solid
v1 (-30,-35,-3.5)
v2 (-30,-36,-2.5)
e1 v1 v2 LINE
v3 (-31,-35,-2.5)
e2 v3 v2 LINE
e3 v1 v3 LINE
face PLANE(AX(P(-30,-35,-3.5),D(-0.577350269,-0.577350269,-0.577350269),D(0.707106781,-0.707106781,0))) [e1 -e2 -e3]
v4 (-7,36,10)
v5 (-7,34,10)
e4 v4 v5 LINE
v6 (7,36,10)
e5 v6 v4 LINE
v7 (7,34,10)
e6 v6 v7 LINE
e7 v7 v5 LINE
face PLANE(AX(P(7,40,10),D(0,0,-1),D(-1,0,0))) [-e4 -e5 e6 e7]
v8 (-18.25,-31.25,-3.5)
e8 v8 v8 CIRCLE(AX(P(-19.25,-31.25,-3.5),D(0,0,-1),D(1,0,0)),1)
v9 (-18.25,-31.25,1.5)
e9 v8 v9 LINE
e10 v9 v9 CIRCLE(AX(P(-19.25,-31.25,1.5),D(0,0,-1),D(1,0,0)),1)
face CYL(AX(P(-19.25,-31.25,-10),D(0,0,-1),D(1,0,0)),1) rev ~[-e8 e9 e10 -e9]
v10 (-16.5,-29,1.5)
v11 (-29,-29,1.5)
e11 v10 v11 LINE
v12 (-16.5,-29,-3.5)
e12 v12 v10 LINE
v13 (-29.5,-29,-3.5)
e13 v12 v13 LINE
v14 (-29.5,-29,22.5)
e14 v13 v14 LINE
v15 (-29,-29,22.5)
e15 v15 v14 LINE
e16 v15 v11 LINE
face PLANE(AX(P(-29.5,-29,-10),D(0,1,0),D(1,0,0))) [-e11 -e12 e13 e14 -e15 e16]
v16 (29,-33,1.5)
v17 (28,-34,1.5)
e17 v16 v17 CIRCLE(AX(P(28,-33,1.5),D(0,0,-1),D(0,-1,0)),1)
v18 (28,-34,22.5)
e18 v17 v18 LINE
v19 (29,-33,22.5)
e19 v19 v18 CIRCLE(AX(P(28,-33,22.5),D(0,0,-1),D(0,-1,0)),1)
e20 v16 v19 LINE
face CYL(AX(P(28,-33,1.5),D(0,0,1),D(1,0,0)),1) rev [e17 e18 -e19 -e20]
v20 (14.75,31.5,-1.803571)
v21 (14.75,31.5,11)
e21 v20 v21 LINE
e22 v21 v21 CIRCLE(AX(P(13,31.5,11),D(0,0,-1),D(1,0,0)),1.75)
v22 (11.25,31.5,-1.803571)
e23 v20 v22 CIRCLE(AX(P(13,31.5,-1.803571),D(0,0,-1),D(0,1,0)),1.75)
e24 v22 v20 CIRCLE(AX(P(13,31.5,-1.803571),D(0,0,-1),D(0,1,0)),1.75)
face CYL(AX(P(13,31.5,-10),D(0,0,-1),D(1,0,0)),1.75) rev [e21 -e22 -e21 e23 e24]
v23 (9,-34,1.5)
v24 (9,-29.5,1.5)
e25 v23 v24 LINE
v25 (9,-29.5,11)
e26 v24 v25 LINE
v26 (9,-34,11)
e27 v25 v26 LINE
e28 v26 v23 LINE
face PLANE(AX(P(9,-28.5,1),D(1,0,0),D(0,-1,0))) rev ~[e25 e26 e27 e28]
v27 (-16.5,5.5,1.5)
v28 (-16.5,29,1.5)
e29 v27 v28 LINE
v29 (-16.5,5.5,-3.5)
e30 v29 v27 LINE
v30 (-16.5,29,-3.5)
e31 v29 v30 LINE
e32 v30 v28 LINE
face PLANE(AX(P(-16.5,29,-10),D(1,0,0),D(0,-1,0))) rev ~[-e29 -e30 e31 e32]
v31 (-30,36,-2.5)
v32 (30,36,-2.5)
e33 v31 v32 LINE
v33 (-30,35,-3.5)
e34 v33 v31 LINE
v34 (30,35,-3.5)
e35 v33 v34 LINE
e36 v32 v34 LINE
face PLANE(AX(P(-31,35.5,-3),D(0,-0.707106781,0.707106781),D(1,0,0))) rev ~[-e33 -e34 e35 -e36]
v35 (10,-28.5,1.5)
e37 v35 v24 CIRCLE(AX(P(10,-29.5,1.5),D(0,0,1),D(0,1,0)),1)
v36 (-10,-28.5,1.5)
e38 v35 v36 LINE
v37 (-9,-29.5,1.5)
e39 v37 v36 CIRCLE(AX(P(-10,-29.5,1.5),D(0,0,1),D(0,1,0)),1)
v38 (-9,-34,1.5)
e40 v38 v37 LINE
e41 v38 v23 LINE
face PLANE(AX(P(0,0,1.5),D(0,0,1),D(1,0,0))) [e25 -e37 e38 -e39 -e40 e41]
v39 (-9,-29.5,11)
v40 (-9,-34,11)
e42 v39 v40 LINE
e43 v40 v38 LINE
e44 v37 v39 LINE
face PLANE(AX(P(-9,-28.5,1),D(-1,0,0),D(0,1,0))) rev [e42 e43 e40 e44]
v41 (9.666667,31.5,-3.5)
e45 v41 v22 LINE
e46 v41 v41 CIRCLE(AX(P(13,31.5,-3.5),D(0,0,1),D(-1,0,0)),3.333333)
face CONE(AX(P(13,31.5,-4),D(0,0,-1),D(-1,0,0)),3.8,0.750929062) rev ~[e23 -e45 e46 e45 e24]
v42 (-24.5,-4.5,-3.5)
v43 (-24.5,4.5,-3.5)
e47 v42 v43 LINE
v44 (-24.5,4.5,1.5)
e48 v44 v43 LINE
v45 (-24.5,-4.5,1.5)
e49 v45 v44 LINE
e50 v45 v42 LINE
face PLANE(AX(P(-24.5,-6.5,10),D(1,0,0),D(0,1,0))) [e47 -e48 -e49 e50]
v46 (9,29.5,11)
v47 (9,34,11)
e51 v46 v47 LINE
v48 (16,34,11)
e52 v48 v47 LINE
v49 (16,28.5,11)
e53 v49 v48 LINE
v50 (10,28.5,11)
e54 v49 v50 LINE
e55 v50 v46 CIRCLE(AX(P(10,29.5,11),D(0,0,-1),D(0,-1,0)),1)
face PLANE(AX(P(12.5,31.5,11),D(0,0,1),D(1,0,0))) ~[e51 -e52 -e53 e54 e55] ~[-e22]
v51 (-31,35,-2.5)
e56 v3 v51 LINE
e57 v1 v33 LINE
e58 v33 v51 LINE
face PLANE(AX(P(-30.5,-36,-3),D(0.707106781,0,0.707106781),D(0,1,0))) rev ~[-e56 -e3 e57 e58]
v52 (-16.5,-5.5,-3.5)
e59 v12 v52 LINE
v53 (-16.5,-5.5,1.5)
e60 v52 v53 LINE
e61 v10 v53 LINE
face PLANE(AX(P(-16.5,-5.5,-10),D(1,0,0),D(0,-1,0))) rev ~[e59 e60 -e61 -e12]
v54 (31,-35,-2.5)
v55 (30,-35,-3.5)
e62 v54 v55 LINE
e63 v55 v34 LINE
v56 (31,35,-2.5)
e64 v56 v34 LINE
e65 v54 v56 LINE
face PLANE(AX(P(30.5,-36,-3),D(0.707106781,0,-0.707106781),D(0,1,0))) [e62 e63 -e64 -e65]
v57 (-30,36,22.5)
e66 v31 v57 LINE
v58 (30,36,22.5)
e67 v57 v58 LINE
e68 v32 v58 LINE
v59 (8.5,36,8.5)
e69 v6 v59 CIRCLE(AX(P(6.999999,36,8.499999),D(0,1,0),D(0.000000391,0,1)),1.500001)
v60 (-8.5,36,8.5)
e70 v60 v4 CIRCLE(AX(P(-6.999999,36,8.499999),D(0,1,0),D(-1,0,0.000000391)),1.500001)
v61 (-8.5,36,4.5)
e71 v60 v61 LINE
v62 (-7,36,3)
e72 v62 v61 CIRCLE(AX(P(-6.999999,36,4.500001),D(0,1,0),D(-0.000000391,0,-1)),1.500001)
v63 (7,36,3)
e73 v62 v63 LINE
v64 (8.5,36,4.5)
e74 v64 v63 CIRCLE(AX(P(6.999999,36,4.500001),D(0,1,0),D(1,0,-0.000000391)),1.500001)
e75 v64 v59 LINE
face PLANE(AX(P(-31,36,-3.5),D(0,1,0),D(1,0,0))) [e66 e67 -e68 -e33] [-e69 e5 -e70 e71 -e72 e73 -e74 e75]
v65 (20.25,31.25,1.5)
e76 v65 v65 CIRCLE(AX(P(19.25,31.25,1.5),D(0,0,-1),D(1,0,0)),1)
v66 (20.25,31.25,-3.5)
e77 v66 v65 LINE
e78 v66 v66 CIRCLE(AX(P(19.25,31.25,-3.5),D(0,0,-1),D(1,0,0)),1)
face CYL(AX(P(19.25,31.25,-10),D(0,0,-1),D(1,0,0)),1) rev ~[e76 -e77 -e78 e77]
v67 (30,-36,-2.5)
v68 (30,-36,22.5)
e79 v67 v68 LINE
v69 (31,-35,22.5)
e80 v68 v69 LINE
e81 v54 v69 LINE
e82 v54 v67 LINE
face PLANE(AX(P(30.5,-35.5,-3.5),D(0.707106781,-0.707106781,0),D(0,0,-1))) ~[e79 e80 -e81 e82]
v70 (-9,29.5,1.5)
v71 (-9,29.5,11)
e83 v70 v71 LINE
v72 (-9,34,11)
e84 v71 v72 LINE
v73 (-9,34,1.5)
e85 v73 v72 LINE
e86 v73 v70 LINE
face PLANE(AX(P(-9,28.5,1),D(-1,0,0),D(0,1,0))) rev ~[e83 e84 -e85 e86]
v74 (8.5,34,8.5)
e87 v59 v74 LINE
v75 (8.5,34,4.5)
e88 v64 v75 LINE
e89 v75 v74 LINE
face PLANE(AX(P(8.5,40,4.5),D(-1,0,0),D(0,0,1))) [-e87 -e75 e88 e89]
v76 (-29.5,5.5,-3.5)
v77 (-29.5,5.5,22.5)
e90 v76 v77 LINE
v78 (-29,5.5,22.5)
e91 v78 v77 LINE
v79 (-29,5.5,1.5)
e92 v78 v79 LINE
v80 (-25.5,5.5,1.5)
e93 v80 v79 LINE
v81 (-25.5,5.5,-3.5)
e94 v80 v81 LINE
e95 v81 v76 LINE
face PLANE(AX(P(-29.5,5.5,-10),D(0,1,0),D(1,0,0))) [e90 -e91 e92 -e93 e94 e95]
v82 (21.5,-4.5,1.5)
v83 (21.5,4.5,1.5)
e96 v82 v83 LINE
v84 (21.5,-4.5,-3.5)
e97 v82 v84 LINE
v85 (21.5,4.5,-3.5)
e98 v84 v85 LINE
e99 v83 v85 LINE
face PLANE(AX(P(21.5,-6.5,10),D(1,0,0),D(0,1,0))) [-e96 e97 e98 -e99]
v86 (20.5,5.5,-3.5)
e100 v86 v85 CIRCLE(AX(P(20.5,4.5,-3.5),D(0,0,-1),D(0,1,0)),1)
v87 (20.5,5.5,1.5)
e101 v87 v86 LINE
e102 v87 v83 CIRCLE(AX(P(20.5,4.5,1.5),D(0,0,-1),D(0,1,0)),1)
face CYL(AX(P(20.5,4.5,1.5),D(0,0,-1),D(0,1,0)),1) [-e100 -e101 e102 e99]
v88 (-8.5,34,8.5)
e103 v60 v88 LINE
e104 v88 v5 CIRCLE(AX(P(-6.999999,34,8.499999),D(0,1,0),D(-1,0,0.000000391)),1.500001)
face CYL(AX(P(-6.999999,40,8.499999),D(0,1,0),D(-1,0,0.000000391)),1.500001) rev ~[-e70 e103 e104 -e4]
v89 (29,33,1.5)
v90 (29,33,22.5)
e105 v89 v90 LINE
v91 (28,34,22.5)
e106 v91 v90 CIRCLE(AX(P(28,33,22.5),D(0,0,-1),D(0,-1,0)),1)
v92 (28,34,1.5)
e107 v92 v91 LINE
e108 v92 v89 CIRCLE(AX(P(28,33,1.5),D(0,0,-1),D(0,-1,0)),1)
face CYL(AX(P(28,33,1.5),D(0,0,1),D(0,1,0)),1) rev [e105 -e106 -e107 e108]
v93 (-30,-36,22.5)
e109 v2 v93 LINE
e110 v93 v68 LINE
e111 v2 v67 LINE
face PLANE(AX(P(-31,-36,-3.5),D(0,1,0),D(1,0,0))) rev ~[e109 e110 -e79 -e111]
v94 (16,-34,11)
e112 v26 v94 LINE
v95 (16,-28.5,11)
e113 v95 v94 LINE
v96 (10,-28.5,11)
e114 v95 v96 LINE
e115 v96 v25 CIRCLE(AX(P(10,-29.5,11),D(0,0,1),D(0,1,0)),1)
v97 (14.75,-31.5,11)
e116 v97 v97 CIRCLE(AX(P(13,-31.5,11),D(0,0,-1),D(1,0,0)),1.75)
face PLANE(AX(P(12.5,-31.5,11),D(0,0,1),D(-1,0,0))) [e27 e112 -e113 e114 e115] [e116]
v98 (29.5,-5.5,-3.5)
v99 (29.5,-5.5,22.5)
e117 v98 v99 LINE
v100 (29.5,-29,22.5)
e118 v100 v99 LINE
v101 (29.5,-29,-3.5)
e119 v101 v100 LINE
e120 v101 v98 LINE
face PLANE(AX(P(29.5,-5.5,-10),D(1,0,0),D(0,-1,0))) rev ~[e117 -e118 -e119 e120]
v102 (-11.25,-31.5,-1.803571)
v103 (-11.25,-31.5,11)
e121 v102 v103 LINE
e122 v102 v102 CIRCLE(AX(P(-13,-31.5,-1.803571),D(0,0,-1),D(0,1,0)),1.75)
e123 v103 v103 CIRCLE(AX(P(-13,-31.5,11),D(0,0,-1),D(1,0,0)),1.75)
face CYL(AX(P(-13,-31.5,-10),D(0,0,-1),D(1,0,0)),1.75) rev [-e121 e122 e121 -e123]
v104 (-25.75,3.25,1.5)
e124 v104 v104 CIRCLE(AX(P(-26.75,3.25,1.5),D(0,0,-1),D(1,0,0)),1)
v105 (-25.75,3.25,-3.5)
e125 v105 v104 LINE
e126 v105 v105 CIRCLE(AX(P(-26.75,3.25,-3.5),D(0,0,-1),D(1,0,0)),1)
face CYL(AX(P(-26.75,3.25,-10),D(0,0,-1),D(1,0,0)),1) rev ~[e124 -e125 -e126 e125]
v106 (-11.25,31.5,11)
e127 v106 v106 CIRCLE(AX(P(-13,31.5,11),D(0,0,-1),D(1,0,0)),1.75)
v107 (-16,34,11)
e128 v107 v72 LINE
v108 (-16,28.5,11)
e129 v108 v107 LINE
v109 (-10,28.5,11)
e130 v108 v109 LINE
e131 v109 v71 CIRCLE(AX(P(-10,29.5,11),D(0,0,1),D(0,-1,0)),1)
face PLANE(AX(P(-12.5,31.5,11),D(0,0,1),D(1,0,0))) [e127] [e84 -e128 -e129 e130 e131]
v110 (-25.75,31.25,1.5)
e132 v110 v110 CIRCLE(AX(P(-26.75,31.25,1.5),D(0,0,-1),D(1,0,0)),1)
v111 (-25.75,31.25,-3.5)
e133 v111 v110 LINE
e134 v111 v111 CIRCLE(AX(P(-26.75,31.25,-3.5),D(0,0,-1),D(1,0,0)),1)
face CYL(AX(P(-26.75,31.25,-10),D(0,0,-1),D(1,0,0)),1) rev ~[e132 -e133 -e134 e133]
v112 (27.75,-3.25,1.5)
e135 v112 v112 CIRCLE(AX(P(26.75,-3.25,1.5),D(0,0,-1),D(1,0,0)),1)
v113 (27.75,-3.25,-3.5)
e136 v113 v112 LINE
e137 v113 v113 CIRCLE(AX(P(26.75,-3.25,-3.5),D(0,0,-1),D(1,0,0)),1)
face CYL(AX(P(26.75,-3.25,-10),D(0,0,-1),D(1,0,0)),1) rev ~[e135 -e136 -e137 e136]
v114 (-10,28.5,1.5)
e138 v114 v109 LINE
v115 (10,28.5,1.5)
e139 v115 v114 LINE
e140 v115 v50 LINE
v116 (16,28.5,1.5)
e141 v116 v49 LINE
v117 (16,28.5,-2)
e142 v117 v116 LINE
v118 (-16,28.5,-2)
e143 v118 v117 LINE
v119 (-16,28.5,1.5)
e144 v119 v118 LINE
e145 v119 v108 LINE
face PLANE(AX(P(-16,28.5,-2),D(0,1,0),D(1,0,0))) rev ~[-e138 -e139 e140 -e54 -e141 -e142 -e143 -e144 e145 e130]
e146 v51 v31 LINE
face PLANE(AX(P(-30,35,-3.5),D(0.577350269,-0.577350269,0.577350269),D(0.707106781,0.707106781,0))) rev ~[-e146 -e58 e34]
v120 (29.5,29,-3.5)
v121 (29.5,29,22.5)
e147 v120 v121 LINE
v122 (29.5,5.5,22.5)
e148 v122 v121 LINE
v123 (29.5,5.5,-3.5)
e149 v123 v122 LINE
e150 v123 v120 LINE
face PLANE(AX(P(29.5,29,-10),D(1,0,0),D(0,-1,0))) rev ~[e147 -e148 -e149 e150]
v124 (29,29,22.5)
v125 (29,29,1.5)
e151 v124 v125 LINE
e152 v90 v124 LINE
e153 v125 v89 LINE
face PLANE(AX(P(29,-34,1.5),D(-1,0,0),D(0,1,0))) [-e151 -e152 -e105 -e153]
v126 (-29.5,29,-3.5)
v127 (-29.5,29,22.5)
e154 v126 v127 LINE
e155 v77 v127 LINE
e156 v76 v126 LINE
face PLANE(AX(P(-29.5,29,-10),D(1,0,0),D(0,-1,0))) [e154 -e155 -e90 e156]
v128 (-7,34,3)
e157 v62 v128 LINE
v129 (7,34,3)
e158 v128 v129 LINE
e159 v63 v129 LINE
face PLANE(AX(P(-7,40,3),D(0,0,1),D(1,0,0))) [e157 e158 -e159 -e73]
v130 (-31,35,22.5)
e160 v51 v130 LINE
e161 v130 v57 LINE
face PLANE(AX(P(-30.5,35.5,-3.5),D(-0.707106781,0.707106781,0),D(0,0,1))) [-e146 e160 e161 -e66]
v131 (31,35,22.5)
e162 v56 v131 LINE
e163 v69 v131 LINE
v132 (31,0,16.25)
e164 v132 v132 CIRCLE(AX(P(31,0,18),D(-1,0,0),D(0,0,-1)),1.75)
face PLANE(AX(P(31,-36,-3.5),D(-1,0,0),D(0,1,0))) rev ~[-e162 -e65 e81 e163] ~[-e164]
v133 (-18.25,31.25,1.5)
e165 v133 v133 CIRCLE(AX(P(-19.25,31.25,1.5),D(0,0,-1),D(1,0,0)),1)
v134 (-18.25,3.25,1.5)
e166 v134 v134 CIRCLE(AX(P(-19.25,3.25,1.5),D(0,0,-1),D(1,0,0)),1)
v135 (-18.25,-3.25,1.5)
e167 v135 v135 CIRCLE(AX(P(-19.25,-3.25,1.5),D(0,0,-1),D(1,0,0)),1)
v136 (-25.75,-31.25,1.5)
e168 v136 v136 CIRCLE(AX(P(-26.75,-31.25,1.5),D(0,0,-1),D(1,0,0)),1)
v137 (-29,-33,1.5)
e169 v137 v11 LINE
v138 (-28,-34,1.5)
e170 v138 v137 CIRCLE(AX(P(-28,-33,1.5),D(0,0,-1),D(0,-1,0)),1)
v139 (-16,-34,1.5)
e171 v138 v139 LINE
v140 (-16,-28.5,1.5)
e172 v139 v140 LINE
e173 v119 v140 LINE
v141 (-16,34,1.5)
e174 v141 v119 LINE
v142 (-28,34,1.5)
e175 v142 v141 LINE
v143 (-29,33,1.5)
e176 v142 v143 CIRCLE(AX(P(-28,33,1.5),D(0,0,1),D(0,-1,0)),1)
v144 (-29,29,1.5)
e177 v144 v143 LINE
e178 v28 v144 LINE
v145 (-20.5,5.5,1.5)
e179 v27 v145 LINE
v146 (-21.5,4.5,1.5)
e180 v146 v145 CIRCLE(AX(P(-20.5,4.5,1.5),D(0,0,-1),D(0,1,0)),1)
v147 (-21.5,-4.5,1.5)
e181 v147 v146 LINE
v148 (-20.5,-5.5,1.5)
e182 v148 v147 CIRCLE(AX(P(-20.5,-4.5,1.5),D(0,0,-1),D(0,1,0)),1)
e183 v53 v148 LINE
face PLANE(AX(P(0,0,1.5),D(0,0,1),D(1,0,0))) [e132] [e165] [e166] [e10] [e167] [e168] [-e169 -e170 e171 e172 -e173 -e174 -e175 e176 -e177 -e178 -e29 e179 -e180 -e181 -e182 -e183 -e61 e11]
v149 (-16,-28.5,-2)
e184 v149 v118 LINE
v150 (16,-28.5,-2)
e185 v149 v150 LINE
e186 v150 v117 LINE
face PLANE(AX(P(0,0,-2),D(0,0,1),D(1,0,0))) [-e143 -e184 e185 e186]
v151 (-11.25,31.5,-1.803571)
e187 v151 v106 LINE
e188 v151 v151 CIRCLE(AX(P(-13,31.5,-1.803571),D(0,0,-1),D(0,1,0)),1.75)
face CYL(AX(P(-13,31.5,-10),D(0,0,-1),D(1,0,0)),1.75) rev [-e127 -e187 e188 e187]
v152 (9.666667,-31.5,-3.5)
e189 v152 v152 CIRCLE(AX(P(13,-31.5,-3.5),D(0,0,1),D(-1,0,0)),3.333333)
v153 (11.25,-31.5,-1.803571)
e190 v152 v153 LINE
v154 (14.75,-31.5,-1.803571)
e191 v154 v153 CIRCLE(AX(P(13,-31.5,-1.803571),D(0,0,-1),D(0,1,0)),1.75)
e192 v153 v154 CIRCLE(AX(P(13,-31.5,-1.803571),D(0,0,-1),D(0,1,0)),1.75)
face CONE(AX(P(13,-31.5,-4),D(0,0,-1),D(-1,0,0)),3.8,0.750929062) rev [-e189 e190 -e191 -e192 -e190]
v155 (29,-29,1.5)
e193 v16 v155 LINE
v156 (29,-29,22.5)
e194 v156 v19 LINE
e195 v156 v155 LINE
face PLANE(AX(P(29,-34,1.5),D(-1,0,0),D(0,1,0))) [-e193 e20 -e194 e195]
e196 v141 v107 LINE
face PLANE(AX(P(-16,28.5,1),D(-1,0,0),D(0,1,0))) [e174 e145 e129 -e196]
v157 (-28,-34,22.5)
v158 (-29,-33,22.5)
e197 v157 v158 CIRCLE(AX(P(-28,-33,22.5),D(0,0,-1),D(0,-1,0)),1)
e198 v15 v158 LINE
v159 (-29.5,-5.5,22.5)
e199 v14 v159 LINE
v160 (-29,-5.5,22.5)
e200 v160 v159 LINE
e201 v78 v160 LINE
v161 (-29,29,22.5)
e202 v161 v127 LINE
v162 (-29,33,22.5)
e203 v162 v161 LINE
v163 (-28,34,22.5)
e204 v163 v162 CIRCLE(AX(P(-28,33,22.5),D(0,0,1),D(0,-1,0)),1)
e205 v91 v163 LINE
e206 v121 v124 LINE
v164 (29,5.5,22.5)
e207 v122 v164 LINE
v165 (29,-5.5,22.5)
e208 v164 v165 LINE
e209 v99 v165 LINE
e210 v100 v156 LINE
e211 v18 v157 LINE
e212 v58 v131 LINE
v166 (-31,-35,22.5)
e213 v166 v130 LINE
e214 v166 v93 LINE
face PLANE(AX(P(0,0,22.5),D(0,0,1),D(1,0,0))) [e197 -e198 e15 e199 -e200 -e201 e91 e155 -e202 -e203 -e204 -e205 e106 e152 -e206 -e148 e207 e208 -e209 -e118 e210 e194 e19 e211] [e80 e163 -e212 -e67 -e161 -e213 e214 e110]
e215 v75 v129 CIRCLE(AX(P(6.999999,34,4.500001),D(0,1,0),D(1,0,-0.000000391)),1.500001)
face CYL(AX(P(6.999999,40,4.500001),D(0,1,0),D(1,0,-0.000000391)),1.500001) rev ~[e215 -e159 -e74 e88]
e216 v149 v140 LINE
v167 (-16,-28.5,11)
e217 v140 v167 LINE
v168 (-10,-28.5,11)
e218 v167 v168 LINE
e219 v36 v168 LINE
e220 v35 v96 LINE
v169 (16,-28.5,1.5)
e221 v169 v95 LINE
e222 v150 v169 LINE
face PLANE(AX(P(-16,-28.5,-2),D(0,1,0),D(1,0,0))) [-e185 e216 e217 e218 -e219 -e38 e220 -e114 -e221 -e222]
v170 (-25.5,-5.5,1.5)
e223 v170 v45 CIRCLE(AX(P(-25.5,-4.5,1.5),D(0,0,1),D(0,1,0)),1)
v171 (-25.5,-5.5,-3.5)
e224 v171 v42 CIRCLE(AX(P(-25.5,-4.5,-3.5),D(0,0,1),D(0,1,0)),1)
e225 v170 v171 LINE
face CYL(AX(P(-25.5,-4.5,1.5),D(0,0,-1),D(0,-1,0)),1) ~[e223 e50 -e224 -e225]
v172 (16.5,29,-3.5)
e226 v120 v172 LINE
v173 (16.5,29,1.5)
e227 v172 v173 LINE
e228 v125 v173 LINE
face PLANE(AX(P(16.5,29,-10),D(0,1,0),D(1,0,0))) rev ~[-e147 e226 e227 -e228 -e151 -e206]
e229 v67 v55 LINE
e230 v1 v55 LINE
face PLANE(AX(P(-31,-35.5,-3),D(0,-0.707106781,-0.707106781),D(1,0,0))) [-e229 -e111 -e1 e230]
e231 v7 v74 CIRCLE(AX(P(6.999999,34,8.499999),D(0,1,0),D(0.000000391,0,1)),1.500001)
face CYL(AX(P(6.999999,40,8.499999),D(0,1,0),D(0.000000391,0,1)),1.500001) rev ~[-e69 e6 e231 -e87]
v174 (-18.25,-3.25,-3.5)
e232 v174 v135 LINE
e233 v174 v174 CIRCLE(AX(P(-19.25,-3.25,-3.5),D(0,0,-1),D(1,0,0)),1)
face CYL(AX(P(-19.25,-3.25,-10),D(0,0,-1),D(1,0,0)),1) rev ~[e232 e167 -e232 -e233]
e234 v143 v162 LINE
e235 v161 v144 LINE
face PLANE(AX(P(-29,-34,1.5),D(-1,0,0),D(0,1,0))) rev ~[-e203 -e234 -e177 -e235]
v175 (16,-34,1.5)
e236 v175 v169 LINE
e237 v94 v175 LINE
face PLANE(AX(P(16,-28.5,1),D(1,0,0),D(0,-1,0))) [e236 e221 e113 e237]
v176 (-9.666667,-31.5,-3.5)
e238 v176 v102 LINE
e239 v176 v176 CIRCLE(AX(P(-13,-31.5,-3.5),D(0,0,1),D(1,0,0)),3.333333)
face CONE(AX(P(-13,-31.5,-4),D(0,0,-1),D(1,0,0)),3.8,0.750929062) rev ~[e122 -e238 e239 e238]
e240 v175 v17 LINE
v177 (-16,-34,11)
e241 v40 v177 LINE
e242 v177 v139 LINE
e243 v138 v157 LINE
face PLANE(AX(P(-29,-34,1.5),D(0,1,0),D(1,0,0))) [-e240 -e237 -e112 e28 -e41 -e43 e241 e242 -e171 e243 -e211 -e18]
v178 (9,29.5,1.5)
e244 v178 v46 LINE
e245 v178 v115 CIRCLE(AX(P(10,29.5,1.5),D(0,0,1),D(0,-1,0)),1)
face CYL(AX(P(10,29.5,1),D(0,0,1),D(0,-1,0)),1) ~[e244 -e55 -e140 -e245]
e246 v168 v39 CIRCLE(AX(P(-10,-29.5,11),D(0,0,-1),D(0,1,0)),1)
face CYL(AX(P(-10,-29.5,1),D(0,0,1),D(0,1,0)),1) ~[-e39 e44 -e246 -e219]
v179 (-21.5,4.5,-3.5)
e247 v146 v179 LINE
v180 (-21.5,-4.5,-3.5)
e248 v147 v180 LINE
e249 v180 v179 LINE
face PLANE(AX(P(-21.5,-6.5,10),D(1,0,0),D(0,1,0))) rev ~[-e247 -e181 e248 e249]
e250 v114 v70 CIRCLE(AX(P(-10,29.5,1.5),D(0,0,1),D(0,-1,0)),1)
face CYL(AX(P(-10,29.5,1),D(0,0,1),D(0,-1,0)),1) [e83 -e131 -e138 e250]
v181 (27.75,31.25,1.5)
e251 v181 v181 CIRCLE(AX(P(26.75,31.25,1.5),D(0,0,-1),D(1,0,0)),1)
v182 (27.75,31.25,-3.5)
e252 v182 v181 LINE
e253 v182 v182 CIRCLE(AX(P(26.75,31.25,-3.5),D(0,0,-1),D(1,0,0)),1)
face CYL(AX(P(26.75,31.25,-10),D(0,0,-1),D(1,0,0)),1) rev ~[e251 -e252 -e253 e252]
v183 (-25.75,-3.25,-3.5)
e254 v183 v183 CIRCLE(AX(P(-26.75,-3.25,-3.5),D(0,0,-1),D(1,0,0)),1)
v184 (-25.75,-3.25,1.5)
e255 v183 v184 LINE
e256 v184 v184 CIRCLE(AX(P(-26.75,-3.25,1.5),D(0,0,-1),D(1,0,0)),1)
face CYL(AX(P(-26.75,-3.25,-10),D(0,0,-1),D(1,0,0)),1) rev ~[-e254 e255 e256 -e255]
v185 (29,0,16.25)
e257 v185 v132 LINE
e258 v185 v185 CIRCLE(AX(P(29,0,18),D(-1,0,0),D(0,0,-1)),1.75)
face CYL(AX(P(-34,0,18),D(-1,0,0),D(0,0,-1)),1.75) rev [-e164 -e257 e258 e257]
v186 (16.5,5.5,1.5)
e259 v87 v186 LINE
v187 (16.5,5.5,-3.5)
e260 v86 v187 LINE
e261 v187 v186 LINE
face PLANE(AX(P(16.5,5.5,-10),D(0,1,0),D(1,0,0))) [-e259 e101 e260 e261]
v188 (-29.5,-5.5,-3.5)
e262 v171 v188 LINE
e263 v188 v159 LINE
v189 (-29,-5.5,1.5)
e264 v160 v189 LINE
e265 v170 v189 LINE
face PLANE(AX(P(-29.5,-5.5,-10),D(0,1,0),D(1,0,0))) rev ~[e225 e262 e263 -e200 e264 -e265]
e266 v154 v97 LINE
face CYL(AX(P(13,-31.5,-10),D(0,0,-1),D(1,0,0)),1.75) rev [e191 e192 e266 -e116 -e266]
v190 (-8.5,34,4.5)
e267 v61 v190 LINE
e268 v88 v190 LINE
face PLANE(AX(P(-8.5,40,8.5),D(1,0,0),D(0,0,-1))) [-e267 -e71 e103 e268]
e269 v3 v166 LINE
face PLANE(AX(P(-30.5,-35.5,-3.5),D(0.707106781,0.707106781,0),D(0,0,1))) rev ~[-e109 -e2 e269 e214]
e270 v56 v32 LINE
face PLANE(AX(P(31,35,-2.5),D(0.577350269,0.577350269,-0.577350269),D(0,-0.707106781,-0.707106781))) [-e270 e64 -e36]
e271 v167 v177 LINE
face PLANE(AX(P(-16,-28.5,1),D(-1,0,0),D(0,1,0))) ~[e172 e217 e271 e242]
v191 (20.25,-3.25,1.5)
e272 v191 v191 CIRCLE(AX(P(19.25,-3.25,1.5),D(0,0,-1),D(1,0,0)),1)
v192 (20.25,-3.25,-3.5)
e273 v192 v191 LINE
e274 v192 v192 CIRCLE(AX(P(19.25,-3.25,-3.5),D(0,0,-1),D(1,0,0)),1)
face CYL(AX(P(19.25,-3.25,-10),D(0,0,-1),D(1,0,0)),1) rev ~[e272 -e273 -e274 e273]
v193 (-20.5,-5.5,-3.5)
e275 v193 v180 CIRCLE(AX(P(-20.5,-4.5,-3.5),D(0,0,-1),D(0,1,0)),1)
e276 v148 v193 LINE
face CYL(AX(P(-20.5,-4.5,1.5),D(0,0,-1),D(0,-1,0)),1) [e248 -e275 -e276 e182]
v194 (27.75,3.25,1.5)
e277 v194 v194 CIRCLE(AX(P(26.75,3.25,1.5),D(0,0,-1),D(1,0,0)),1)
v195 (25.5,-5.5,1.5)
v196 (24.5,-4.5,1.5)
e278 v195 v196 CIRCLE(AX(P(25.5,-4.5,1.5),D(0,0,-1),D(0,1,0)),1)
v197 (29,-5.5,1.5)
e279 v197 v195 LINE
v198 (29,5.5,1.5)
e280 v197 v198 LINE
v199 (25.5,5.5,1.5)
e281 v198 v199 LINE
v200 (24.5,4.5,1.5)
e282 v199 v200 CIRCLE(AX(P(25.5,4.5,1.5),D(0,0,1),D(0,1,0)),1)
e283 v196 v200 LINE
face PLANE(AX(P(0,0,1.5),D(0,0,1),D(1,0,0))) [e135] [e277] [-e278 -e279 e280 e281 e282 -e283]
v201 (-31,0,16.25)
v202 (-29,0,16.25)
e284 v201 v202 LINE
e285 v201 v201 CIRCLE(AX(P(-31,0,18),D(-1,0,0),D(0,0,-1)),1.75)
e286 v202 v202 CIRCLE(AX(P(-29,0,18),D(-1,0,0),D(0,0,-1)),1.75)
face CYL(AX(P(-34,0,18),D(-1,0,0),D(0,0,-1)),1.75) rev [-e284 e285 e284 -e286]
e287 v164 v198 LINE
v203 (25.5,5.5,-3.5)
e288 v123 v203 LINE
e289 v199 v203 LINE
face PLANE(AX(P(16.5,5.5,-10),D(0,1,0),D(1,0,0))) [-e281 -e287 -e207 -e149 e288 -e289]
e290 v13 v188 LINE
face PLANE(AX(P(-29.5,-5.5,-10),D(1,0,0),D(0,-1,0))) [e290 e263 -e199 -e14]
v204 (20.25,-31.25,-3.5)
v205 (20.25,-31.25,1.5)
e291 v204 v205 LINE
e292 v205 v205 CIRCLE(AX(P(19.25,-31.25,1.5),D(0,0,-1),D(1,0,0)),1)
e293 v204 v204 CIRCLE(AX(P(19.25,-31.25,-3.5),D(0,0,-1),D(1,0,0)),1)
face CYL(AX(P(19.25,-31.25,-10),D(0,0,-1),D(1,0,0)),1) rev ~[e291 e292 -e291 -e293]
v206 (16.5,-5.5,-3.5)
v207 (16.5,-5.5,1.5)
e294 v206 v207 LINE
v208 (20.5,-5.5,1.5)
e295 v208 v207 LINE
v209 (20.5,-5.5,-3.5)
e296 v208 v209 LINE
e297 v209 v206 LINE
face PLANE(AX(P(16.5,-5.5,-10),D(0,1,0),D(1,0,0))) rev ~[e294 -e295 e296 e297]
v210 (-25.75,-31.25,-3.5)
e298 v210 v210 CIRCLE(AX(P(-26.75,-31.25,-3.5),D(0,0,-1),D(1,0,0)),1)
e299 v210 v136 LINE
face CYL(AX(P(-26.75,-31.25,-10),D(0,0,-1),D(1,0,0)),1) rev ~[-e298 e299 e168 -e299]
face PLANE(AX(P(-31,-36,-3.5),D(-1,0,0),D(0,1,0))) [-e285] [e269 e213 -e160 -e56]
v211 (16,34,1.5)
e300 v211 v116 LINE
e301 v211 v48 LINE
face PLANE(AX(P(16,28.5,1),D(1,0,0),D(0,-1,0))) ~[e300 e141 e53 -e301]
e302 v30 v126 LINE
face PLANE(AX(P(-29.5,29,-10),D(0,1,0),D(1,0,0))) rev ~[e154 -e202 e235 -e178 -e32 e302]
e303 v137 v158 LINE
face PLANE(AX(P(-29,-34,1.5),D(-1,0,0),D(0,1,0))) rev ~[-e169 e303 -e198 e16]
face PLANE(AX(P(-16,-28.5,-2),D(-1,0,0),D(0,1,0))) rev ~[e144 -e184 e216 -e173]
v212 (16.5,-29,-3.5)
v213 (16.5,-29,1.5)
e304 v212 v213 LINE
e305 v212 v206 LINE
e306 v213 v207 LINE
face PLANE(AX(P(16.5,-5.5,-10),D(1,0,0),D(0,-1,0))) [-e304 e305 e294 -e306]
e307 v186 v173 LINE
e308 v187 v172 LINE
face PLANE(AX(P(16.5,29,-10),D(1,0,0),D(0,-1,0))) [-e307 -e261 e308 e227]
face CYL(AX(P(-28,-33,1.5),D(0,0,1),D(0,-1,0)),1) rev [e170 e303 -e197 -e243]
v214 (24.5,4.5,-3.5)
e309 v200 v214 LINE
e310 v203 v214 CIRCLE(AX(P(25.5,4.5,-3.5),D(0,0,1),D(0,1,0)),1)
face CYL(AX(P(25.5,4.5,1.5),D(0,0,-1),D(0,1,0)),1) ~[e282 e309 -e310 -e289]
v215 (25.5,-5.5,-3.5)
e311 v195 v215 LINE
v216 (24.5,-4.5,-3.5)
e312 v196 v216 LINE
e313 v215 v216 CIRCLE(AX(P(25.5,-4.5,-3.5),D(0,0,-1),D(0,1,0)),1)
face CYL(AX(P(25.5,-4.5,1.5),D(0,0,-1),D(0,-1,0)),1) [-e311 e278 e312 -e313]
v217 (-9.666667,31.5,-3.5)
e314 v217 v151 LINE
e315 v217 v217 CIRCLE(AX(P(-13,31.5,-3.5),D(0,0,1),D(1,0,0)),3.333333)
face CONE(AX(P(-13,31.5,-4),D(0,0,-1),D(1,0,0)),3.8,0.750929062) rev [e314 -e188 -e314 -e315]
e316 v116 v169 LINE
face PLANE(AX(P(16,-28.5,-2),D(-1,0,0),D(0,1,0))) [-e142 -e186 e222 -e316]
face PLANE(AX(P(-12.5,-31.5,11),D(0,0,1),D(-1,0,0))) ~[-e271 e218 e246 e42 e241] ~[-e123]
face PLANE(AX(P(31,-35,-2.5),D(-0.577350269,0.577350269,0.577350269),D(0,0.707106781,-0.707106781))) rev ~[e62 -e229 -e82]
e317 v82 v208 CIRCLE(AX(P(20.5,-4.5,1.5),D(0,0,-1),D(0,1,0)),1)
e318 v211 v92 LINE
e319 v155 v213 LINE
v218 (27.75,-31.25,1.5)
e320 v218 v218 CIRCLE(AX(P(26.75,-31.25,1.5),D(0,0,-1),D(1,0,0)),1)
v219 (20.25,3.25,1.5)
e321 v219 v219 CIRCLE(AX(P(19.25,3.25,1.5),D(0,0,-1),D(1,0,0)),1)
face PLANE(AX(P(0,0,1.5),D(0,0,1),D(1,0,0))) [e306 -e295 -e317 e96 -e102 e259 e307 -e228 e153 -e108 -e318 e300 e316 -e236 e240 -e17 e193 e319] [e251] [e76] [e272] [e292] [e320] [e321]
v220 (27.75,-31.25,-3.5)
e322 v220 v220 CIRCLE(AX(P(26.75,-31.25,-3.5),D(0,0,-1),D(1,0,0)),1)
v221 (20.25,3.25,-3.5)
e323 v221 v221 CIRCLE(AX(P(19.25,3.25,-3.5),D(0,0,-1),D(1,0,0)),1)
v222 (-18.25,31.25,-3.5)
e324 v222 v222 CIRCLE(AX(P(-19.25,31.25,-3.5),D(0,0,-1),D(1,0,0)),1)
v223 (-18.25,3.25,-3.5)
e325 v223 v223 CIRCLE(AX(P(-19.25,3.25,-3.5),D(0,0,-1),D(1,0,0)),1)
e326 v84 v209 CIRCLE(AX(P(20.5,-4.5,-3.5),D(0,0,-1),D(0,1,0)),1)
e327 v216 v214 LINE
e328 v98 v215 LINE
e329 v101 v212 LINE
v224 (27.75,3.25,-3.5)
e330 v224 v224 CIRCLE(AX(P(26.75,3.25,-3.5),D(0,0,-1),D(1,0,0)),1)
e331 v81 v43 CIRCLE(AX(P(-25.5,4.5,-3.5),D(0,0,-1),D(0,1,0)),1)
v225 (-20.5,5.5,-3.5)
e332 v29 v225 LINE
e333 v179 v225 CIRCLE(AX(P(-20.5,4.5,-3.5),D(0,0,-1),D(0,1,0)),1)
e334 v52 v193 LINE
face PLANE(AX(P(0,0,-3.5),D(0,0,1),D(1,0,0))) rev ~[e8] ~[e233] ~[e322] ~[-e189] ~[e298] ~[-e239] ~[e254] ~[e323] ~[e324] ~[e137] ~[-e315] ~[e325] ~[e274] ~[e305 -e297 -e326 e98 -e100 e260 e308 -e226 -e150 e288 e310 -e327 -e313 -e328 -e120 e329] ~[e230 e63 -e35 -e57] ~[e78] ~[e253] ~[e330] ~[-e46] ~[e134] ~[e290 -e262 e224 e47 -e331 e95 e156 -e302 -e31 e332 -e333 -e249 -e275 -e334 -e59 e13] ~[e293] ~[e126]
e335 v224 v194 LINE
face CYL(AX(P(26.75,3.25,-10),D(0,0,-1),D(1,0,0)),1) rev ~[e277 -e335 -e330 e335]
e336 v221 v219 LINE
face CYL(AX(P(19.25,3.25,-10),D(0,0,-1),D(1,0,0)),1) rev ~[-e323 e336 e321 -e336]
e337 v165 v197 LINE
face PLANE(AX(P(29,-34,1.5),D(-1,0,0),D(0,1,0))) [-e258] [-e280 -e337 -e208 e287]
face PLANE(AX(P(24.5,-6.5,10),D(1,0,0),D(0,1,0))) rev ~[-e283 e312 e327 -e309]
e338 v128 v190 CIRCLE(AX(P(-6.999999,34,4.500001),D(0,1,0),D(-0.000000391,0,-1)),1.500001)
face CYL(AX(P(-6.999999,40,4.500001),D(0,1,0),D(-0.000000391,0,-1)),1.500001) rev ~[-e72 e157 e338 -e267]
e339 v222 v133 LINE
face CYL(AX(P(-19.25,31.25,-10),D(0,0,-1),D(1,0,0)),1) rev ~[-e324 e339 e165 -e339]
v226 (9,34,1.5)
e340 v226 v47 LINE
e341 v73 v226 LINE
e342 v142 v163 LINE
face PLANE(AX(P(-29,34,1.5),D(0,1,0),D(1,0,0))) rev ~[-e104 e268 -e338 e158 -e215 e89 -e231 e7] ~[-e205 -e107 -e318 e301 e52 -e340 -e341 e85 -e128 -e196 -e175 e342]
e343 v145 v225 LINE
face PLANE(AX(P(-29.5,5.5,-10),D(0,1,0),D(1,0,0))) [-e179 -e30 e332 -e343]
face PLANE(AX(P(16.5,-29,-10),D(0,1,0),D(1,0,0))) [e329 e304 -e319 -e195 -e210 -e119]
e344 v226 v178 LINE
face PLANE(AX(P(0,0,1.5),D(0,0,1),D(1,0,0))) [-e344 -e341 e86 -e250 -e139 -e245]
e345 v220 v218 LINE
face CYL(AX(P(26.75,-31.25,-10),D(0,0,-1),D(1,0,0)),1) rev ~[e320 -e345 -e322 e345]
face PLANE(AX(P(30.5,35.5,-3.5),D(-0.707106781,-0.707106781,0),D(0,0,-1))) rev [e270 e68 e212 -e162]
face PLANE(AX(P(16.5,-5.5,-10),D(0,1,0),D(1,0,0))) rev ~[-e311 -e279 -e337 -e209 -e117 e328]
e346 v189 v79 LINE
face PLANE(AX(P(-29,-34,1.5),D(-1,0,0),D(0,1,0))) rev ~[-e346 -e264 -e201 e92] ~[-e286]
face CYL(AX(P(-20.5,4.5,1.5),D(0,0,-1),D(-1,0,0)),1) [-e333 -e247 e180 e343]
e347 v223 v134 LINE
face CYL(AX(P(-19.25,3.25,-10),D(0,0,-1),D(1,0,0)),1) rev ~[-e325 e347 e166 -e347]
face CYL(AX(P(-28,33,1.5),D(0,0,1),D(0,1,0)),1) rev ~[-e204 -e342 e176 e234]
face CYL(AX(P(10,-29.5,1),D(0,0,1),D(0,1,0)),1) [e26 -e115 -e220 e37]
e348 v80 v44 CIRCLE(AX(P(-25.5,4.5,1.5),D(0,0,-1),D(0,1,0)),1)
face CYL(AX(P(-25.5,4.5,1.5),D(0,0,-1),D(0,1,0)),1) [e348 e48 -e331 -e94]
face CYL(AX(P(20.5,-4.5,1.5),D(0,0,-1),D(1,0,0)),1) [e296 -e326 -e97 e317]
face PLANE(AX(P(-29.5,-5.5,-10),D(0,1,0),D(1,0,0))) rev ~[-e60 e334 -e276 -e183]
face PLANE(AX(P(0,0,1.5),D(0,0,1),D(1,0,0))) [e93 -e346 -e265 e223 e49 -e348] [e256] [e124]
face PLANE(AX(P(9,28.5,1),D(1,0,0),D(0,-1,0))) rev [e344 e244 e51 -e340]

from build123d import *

# Parameters (mm, degrees)
CYLINDER018_R           = 1.75
CYLINDER018_DEPTH       = 68
CYLINDER018_PITCH_ANGLE = 90
SKETCH020_W             = 3
SKETCH020_H             = 13
PAD022_DEPTH            = 15
PAD020_DEPTH            = 6.1
CYLINDER002_R           = 1.75
CYLINDER002_DEPTH       = 30
CYLINDER003_R           = 1.75
CYLINDER003_DEPTH       = 30
CYLINDER001_R           = 1.75
CYLINDER001_DEPTH       = 30
CYLINDER_R              = 1.75
CYLINDER_DEPTH          = 30
BOX011_W                = 7
BOX011_H                = 6
BOX011_DEPTH            = 10
FILLET006_R             = 1
BOX008_W                = 32
BOX008_H                = 57
BOX008_DEPTH            = 27
SKETCH_R                = 1
SKETCH_W                = 13
SKETCH_H                = 23.5
PAD_DEPTH               = 40
BOX007_W                = 58
BOX007_H                = 68
BOX007_DEPTH            = 27
BOX001_W                = 62
BOX001_H                = 72
BOX001_DEPTH            = 26
FILLET007_R             = 1
CHAMFER_SIZE            = 1
FILLET008_R             = 1


with BuildPart() as cilindro:
    # Cylinder018 → Cylinder018 (new body)
    with BuildSketch(Plane.XY):
        Circle(CYLINDER018_R)
    extrude(amount=CYLINDER018_DEPTH)


with BuildPart() as cilindro_1:
    # Cylinder018 pitch: moved
    add(cilindro.part.rotate(Axis((0, 0, 0), (0, 1, 0)), CYLINDER018_PITCH_ANGLE))


with BuildPart() as cilindro_2:
    # Cylinder018 placement: moved
    add(cilindro_1.part.moved(Location((-34, 0, 18))))


with BuildPart() as cono:
    # Cone → Cone (revolve)
    with BuildSketch(Plane(origin=(-13, -31.5, -4), x_dir=(1, 0, 0), z_dir=(0, -1, 0))):
        Polygon((0, 0), (3.8, 0), (1, 3), (0, 3), align=None)
    revolve(axis=Axis((-13, -31.5, -4), (0, 0, 1)))


with BuildPart() as part_mirroring029:
    # Part__Mirroring029: instance of Cono
    add(cono.part.mirror(Plane(origin=(0, 0, 0), x_dir=(0, -1, 0), z_dir=(1, 0, 0))))


with BuildPart() as part_mirroring031:
    # Part__Mirroring031: instance of Part__Mirroring029
    add(part_mirroring029.part.mirror(Plane(origin=(0, 0, 0), x_dir=(1, 0, 0), z_dir=(0, 1, 0))))


with BuildPart() as fusion015:
    # Part__Mirroring030: instance of Cono
    add(cono.part.mirror(Plane(origin=(0, 0, 0), x_dir=(1, 0, 0), z_dir=(0, 1, 0))))

    # Fusion015: union Part__Mirroring031, Cono, Part__Mirroring029
    add(part_mirroring031.part)
    add(cono.part)
    add(part_mirroring029.part)


with BuildPart() as pad022:
    # Sketch020 → Pad022 (new body)
    with BuildSketch(Plane.XY.offset(10)):
        with Locations((-23, 0)):
            Rectangle(SKETCH020_W, SKETCH020_H)
        with Locations((23, 0)):
            Rectangle(SKETCH020_W, SKETCH020_H)
    extrude(amount=-PAD022_DEPTH)


with BuildPart() as pad020:
    # Sketch017 → Pad020 (new body)
    with BuildSketch(Plane(origin=(0, 40, 0), x_dir=(-1, 0, 0), z_dir=(0, 1, 0))):
        with BuildLine():
            Line((-7, 10), (7, 10))
            ThreePointArc((8.5, 8.5), (8.06066, 9.56066), (7, 10))
            Line((8.5, 8.5), (8.5, 4.5))
            ThreePointArc((7, 3), (8.06066, 3.43934), (8.5, 4.5))
            Line((7, 3), (-7, 3))
            ThreePointArc((-8.5, 4.5), (-8.06066, 3.43934), (-7, 3))
            Line((-8.5, 4.5), (-8.5, 8.5))
            ThreePointArc((-7, 10), (-8.06066, 9.56066), (-8.5, 8.5))
        make_face()
    extrude(amount=-PAD020_DEPTH)


with BuildPart() as cilindro002:
    # Cylinder002 → Cylinder002 (new body)
    with BuildSketch(Plane(origin=(-13, -31.5, -10), x_dir=(1, 0, 0), z_dir=(0, 0, 1))):
        Circle(CYLINDER002_R)
    extrude(amount=CYLINDER002_DEPTH)


with BuildPart() as cilindro003:
    # Cylinder003 → Cylinder003 (new body)
    with BuildSketch(Plane(origin=(13, -31.5, -10), x_dir=(1, 0, 0), z_dir=(0, 0, 1))):
        Circle(CYLINDER003_R)
    extrude(amount=CYLINDER003_DEPTH)


with BuildPart() as cilindro001:
    # Cylinder001 → Cylinder001 (new body)
    with BuildSketch(Plane(origin=(13, 31.5, -10), x_dir=(1, 0, 0), z_dir=(0, 0, 1))):
        Circle(CYLINDER001_R)
    extrude(amount=CYLINDER001_DEPTH)


with BuildPart() as fusion012:
    # Cylinder → Cylinder (new body)
    with BuildSketch(Plane(origin=(-13, 31.5, -10), x_dir=(1, 0, 0), z_dir=(0, 0, 1))):
        Circle(CYLINDER_R)
    extrude(amount=CYLINDER_DEPTH)

    # Fusion012: union Cilindro002, Cilindro003, Cilindro001
    add(cilindro002.part)
    add(cilindro003.part)
    add(cilindro001.part)


with BuildPart() as fillet006:
    # Box011 → Box011 (new body)
    with BuildSketch(Plane(origin=(-16, 28.5, 0), x_dir=(1, 0, 0), z_dir=(0, 0, 1))):
        with Locations((3.5, 3)):
            Rectangle(BOX011_W, BOX011_H)
    extrude(amount=BOX011_DEPTH)

    # Fillet006
    fillet006_edges = [fillet006.edges().sort_by_distance(p)[0] for p in [
        (-9, 28.5, 5),
    ]]
    fillet(fillet006_edges, radius=FILLET006_R)


with BuildPart() as part_mirroring027:
    # Part__Mirroring027: instance of Fillet006
    add(fillet006.part.mirror(Plane(origin=(0, 0, 0), x_dir=(1, 0, 0), z_dir=(0, 1, 0))))


with BuildPart() as part_mirroring026:
    # Part__Mirroring026: instance of Fillet006
    add(fillet006.part.mirror(Plane(origin=(0, 0, 0), x_dir=(0, -1, 0), z_dir=(1, 0, 0))))


with BuildPart() as part_mirroring028:
    # Part__Mirroring028: instance of Part__Mirroring026
    add(part_mirroring026.part.mirror(Plane(origin=(0, 0, 0), x_dir=(1, 0, 0), z_dir=(0, 1, 0))))


with BuildPart() as fusion013:
    # Fusion013 base: copy of Part__Mirroring026
    add(part_mirroring026.part)

    # Fusion013: union Fillet006, Part__Mirroring027, Part__Mirroring028
    add(fillet006.part)
    add(part_mirroring027.part)
    add(part_mirroring028.part)


with BuildPart() as fusion013_1:
    # Fusion013 placement: moved
    add(fusion013.part.moved(Location((0, 0, 1))))


with BuildPart() as cubo008:
    # Box008 → Box008 (new body)
    with BuildSketch(Plane(origin=(-16, -28.5, -2), x_dir=(1, 0, 0), z_dir=(0, 0, 1))):
        with Locations((16, 28.5)):
            Rectangle(BOX008_W, BOX008_H)
    extrude(amount=BOX008_DEPTH)


with BuildPart() as pad:
    # Sketch → Pad (new body)
    with BuildSketch(Plane(origin=(0, 0, -10), x_dir=(1, 0, 0), z_dir=(0, 0, -1))):
        with Locations((-26.75, 31.25)):
            Circle(SKETCH_R)
        with Locations((-19.25, 31.25)):
            Circle(SKETCH_R)
        with Locations((-26.75, 3.25)):
            Circle(SKETCH_R)
        with Locations((-19.25, 3.25)):
            Circle(SKETCH_R)
        with Locations((-26.75, -3.25)):
            Circle(SKETCH_R)
        with Locations((-19.25, -3.25)):
            Circle(SKETCH_R)
        with Locations((-26.75, -31.25)):
            Circle(SKETCH_R)
        with Locations((-19.25, -31.25)):
            Circle(SKETCH_R)
        with Locations((19.25, 31.25)):
            Circle(SKETCH_R)
        with Locations((26.75, 31.25)):
            Circle(SKETCH_R)
        with Locations((19.25, 3.25)):
            Circle(SKETCH_R)
        with Locations((26.75, 3.25)):
            Circle(SKETCH_R)
        with Locations((19.25, -3.25)):
            Circle(SKETCH_R)
        with Locations((26.75, -3.25)):
            Circle(SKETCH_R)
        with Locations((19.25, -31.25)):
            Circle(SKETCH_R)
        with Locations((26.75, -31.25)):
            Circle(SKETCH_R)
        with Locations((-23, 17.25)):
            Rectangle(SKETCH_W, SKETCH_H)
        with Locations((23, 17.25)):
            Rectangle(SKETCH_W, SKETCH_H)
        with Locations((-23, -17.25)):
            Rectangle(SKETCH_W, SKETCH_H)
        with Locations((23, -17.25)):
            Rectangle(SKETCH_W, SKETCH_H)
    extrude(amount=-PAD_DEPTH)


with BuildPart() as cubo007:
    # Box007 → Box007 (new body)
    with BuildSketch(Plane(origin=(-29, -34, 1.5), x_dir=(1, 0, 0), z_dir=(0, 0, 1))):
        with Locations((29, 34)):
            Rectangle(BOX007_W, BOX007_H)
    extrude(amount=BOX007_DEPTH)


with BuildPart() as clone_of_bodyb:
    # Box001 → Box001 (new body)
    with BuildSketch(Plane(origin=(-31, -36, -3.5), x_dir=(1, 0, 0), z_dir=(0, 0, 1))):
        with Locations((31, 36)):
            Rectangle(BOX001_W, BOX001_H)
    extrude(amount=BOX001_DEPTH)

    # Cut: cut Cubo007
    add(cubo007.part, mode=Mode.SUBTRACT)

    # Cut001: cut Pad
    add(pad.part, mode=Mode.SUBTRACT)

    # Cut002: cut Cubo008
    add(cubo008.part, mode=Mode.SUBTRACT)

    # Fusion014: union Fusion013
    add(fusion013_1.part)

    # Cut021: cut Fusion012
    add(fusion012.part, mode=Mode.SUBTRACT)

    # Cut022: cut Pad020
    add(pad020.part, mode=Mode.SUBTRACT)

    # Fillet007
    fillet007_edges = [clone_of_bodyb.edges().sort_by_distance(p)[0] for p in [
        (29, -34, 12),
        (29, 34, 12),
        (-29, 34, 12),
        (-29, -34, 12),
    ]]
    fillet(fillet007_edges, radius=FILLET007_R)

    # Chamfer
    chamfer_edges = [clone_of_bodyb.edges().sort_by_distance(p)[0] for p in [
        (-31, -36, 9.5),
        (-31, 36, 9.5),
        (-31, 0, -3.5),
        (0, 36, -3.5),
        (31, 36, 9.5),
        (0, -36, -3.5),
        (31, -36, 9.5),
        (31, 0, -3.5),
    ]]
    chamfer(chamfer_edges, length=CHAMFER_SIZE)

    # Cut024: cut Pad022
    add(pad022.part, mode=Mode.SUBTRACT)

    # Fillet008
    fillet008_edges = [clone_of_bodyb.edges().sort_by_distance(p)[0] for p in [
        (24.5, -5.5, -1),
        (24.5, 5.5, -1),
        (-24.5, -5.5, -1),
        (-24.5, 5.5, -1),
        (21.5, 5.5, -1),
        (21.5, -5.5, -1),
        (-21.5, -5.5, -1),
        (-21.5, 5.5, -1),
    ]]
    fillet(fillet008_edges, radius=FILLET008_R)

    # Cut025: cut Fusion015
    add(fusion015.part, mode=Mode.SUBTRACT)

    # Cut026: cut Cilindro
    add(cilindro_2.part, mode=Mode.SUBTRACT)


solid = clone_of_bodyb.part
